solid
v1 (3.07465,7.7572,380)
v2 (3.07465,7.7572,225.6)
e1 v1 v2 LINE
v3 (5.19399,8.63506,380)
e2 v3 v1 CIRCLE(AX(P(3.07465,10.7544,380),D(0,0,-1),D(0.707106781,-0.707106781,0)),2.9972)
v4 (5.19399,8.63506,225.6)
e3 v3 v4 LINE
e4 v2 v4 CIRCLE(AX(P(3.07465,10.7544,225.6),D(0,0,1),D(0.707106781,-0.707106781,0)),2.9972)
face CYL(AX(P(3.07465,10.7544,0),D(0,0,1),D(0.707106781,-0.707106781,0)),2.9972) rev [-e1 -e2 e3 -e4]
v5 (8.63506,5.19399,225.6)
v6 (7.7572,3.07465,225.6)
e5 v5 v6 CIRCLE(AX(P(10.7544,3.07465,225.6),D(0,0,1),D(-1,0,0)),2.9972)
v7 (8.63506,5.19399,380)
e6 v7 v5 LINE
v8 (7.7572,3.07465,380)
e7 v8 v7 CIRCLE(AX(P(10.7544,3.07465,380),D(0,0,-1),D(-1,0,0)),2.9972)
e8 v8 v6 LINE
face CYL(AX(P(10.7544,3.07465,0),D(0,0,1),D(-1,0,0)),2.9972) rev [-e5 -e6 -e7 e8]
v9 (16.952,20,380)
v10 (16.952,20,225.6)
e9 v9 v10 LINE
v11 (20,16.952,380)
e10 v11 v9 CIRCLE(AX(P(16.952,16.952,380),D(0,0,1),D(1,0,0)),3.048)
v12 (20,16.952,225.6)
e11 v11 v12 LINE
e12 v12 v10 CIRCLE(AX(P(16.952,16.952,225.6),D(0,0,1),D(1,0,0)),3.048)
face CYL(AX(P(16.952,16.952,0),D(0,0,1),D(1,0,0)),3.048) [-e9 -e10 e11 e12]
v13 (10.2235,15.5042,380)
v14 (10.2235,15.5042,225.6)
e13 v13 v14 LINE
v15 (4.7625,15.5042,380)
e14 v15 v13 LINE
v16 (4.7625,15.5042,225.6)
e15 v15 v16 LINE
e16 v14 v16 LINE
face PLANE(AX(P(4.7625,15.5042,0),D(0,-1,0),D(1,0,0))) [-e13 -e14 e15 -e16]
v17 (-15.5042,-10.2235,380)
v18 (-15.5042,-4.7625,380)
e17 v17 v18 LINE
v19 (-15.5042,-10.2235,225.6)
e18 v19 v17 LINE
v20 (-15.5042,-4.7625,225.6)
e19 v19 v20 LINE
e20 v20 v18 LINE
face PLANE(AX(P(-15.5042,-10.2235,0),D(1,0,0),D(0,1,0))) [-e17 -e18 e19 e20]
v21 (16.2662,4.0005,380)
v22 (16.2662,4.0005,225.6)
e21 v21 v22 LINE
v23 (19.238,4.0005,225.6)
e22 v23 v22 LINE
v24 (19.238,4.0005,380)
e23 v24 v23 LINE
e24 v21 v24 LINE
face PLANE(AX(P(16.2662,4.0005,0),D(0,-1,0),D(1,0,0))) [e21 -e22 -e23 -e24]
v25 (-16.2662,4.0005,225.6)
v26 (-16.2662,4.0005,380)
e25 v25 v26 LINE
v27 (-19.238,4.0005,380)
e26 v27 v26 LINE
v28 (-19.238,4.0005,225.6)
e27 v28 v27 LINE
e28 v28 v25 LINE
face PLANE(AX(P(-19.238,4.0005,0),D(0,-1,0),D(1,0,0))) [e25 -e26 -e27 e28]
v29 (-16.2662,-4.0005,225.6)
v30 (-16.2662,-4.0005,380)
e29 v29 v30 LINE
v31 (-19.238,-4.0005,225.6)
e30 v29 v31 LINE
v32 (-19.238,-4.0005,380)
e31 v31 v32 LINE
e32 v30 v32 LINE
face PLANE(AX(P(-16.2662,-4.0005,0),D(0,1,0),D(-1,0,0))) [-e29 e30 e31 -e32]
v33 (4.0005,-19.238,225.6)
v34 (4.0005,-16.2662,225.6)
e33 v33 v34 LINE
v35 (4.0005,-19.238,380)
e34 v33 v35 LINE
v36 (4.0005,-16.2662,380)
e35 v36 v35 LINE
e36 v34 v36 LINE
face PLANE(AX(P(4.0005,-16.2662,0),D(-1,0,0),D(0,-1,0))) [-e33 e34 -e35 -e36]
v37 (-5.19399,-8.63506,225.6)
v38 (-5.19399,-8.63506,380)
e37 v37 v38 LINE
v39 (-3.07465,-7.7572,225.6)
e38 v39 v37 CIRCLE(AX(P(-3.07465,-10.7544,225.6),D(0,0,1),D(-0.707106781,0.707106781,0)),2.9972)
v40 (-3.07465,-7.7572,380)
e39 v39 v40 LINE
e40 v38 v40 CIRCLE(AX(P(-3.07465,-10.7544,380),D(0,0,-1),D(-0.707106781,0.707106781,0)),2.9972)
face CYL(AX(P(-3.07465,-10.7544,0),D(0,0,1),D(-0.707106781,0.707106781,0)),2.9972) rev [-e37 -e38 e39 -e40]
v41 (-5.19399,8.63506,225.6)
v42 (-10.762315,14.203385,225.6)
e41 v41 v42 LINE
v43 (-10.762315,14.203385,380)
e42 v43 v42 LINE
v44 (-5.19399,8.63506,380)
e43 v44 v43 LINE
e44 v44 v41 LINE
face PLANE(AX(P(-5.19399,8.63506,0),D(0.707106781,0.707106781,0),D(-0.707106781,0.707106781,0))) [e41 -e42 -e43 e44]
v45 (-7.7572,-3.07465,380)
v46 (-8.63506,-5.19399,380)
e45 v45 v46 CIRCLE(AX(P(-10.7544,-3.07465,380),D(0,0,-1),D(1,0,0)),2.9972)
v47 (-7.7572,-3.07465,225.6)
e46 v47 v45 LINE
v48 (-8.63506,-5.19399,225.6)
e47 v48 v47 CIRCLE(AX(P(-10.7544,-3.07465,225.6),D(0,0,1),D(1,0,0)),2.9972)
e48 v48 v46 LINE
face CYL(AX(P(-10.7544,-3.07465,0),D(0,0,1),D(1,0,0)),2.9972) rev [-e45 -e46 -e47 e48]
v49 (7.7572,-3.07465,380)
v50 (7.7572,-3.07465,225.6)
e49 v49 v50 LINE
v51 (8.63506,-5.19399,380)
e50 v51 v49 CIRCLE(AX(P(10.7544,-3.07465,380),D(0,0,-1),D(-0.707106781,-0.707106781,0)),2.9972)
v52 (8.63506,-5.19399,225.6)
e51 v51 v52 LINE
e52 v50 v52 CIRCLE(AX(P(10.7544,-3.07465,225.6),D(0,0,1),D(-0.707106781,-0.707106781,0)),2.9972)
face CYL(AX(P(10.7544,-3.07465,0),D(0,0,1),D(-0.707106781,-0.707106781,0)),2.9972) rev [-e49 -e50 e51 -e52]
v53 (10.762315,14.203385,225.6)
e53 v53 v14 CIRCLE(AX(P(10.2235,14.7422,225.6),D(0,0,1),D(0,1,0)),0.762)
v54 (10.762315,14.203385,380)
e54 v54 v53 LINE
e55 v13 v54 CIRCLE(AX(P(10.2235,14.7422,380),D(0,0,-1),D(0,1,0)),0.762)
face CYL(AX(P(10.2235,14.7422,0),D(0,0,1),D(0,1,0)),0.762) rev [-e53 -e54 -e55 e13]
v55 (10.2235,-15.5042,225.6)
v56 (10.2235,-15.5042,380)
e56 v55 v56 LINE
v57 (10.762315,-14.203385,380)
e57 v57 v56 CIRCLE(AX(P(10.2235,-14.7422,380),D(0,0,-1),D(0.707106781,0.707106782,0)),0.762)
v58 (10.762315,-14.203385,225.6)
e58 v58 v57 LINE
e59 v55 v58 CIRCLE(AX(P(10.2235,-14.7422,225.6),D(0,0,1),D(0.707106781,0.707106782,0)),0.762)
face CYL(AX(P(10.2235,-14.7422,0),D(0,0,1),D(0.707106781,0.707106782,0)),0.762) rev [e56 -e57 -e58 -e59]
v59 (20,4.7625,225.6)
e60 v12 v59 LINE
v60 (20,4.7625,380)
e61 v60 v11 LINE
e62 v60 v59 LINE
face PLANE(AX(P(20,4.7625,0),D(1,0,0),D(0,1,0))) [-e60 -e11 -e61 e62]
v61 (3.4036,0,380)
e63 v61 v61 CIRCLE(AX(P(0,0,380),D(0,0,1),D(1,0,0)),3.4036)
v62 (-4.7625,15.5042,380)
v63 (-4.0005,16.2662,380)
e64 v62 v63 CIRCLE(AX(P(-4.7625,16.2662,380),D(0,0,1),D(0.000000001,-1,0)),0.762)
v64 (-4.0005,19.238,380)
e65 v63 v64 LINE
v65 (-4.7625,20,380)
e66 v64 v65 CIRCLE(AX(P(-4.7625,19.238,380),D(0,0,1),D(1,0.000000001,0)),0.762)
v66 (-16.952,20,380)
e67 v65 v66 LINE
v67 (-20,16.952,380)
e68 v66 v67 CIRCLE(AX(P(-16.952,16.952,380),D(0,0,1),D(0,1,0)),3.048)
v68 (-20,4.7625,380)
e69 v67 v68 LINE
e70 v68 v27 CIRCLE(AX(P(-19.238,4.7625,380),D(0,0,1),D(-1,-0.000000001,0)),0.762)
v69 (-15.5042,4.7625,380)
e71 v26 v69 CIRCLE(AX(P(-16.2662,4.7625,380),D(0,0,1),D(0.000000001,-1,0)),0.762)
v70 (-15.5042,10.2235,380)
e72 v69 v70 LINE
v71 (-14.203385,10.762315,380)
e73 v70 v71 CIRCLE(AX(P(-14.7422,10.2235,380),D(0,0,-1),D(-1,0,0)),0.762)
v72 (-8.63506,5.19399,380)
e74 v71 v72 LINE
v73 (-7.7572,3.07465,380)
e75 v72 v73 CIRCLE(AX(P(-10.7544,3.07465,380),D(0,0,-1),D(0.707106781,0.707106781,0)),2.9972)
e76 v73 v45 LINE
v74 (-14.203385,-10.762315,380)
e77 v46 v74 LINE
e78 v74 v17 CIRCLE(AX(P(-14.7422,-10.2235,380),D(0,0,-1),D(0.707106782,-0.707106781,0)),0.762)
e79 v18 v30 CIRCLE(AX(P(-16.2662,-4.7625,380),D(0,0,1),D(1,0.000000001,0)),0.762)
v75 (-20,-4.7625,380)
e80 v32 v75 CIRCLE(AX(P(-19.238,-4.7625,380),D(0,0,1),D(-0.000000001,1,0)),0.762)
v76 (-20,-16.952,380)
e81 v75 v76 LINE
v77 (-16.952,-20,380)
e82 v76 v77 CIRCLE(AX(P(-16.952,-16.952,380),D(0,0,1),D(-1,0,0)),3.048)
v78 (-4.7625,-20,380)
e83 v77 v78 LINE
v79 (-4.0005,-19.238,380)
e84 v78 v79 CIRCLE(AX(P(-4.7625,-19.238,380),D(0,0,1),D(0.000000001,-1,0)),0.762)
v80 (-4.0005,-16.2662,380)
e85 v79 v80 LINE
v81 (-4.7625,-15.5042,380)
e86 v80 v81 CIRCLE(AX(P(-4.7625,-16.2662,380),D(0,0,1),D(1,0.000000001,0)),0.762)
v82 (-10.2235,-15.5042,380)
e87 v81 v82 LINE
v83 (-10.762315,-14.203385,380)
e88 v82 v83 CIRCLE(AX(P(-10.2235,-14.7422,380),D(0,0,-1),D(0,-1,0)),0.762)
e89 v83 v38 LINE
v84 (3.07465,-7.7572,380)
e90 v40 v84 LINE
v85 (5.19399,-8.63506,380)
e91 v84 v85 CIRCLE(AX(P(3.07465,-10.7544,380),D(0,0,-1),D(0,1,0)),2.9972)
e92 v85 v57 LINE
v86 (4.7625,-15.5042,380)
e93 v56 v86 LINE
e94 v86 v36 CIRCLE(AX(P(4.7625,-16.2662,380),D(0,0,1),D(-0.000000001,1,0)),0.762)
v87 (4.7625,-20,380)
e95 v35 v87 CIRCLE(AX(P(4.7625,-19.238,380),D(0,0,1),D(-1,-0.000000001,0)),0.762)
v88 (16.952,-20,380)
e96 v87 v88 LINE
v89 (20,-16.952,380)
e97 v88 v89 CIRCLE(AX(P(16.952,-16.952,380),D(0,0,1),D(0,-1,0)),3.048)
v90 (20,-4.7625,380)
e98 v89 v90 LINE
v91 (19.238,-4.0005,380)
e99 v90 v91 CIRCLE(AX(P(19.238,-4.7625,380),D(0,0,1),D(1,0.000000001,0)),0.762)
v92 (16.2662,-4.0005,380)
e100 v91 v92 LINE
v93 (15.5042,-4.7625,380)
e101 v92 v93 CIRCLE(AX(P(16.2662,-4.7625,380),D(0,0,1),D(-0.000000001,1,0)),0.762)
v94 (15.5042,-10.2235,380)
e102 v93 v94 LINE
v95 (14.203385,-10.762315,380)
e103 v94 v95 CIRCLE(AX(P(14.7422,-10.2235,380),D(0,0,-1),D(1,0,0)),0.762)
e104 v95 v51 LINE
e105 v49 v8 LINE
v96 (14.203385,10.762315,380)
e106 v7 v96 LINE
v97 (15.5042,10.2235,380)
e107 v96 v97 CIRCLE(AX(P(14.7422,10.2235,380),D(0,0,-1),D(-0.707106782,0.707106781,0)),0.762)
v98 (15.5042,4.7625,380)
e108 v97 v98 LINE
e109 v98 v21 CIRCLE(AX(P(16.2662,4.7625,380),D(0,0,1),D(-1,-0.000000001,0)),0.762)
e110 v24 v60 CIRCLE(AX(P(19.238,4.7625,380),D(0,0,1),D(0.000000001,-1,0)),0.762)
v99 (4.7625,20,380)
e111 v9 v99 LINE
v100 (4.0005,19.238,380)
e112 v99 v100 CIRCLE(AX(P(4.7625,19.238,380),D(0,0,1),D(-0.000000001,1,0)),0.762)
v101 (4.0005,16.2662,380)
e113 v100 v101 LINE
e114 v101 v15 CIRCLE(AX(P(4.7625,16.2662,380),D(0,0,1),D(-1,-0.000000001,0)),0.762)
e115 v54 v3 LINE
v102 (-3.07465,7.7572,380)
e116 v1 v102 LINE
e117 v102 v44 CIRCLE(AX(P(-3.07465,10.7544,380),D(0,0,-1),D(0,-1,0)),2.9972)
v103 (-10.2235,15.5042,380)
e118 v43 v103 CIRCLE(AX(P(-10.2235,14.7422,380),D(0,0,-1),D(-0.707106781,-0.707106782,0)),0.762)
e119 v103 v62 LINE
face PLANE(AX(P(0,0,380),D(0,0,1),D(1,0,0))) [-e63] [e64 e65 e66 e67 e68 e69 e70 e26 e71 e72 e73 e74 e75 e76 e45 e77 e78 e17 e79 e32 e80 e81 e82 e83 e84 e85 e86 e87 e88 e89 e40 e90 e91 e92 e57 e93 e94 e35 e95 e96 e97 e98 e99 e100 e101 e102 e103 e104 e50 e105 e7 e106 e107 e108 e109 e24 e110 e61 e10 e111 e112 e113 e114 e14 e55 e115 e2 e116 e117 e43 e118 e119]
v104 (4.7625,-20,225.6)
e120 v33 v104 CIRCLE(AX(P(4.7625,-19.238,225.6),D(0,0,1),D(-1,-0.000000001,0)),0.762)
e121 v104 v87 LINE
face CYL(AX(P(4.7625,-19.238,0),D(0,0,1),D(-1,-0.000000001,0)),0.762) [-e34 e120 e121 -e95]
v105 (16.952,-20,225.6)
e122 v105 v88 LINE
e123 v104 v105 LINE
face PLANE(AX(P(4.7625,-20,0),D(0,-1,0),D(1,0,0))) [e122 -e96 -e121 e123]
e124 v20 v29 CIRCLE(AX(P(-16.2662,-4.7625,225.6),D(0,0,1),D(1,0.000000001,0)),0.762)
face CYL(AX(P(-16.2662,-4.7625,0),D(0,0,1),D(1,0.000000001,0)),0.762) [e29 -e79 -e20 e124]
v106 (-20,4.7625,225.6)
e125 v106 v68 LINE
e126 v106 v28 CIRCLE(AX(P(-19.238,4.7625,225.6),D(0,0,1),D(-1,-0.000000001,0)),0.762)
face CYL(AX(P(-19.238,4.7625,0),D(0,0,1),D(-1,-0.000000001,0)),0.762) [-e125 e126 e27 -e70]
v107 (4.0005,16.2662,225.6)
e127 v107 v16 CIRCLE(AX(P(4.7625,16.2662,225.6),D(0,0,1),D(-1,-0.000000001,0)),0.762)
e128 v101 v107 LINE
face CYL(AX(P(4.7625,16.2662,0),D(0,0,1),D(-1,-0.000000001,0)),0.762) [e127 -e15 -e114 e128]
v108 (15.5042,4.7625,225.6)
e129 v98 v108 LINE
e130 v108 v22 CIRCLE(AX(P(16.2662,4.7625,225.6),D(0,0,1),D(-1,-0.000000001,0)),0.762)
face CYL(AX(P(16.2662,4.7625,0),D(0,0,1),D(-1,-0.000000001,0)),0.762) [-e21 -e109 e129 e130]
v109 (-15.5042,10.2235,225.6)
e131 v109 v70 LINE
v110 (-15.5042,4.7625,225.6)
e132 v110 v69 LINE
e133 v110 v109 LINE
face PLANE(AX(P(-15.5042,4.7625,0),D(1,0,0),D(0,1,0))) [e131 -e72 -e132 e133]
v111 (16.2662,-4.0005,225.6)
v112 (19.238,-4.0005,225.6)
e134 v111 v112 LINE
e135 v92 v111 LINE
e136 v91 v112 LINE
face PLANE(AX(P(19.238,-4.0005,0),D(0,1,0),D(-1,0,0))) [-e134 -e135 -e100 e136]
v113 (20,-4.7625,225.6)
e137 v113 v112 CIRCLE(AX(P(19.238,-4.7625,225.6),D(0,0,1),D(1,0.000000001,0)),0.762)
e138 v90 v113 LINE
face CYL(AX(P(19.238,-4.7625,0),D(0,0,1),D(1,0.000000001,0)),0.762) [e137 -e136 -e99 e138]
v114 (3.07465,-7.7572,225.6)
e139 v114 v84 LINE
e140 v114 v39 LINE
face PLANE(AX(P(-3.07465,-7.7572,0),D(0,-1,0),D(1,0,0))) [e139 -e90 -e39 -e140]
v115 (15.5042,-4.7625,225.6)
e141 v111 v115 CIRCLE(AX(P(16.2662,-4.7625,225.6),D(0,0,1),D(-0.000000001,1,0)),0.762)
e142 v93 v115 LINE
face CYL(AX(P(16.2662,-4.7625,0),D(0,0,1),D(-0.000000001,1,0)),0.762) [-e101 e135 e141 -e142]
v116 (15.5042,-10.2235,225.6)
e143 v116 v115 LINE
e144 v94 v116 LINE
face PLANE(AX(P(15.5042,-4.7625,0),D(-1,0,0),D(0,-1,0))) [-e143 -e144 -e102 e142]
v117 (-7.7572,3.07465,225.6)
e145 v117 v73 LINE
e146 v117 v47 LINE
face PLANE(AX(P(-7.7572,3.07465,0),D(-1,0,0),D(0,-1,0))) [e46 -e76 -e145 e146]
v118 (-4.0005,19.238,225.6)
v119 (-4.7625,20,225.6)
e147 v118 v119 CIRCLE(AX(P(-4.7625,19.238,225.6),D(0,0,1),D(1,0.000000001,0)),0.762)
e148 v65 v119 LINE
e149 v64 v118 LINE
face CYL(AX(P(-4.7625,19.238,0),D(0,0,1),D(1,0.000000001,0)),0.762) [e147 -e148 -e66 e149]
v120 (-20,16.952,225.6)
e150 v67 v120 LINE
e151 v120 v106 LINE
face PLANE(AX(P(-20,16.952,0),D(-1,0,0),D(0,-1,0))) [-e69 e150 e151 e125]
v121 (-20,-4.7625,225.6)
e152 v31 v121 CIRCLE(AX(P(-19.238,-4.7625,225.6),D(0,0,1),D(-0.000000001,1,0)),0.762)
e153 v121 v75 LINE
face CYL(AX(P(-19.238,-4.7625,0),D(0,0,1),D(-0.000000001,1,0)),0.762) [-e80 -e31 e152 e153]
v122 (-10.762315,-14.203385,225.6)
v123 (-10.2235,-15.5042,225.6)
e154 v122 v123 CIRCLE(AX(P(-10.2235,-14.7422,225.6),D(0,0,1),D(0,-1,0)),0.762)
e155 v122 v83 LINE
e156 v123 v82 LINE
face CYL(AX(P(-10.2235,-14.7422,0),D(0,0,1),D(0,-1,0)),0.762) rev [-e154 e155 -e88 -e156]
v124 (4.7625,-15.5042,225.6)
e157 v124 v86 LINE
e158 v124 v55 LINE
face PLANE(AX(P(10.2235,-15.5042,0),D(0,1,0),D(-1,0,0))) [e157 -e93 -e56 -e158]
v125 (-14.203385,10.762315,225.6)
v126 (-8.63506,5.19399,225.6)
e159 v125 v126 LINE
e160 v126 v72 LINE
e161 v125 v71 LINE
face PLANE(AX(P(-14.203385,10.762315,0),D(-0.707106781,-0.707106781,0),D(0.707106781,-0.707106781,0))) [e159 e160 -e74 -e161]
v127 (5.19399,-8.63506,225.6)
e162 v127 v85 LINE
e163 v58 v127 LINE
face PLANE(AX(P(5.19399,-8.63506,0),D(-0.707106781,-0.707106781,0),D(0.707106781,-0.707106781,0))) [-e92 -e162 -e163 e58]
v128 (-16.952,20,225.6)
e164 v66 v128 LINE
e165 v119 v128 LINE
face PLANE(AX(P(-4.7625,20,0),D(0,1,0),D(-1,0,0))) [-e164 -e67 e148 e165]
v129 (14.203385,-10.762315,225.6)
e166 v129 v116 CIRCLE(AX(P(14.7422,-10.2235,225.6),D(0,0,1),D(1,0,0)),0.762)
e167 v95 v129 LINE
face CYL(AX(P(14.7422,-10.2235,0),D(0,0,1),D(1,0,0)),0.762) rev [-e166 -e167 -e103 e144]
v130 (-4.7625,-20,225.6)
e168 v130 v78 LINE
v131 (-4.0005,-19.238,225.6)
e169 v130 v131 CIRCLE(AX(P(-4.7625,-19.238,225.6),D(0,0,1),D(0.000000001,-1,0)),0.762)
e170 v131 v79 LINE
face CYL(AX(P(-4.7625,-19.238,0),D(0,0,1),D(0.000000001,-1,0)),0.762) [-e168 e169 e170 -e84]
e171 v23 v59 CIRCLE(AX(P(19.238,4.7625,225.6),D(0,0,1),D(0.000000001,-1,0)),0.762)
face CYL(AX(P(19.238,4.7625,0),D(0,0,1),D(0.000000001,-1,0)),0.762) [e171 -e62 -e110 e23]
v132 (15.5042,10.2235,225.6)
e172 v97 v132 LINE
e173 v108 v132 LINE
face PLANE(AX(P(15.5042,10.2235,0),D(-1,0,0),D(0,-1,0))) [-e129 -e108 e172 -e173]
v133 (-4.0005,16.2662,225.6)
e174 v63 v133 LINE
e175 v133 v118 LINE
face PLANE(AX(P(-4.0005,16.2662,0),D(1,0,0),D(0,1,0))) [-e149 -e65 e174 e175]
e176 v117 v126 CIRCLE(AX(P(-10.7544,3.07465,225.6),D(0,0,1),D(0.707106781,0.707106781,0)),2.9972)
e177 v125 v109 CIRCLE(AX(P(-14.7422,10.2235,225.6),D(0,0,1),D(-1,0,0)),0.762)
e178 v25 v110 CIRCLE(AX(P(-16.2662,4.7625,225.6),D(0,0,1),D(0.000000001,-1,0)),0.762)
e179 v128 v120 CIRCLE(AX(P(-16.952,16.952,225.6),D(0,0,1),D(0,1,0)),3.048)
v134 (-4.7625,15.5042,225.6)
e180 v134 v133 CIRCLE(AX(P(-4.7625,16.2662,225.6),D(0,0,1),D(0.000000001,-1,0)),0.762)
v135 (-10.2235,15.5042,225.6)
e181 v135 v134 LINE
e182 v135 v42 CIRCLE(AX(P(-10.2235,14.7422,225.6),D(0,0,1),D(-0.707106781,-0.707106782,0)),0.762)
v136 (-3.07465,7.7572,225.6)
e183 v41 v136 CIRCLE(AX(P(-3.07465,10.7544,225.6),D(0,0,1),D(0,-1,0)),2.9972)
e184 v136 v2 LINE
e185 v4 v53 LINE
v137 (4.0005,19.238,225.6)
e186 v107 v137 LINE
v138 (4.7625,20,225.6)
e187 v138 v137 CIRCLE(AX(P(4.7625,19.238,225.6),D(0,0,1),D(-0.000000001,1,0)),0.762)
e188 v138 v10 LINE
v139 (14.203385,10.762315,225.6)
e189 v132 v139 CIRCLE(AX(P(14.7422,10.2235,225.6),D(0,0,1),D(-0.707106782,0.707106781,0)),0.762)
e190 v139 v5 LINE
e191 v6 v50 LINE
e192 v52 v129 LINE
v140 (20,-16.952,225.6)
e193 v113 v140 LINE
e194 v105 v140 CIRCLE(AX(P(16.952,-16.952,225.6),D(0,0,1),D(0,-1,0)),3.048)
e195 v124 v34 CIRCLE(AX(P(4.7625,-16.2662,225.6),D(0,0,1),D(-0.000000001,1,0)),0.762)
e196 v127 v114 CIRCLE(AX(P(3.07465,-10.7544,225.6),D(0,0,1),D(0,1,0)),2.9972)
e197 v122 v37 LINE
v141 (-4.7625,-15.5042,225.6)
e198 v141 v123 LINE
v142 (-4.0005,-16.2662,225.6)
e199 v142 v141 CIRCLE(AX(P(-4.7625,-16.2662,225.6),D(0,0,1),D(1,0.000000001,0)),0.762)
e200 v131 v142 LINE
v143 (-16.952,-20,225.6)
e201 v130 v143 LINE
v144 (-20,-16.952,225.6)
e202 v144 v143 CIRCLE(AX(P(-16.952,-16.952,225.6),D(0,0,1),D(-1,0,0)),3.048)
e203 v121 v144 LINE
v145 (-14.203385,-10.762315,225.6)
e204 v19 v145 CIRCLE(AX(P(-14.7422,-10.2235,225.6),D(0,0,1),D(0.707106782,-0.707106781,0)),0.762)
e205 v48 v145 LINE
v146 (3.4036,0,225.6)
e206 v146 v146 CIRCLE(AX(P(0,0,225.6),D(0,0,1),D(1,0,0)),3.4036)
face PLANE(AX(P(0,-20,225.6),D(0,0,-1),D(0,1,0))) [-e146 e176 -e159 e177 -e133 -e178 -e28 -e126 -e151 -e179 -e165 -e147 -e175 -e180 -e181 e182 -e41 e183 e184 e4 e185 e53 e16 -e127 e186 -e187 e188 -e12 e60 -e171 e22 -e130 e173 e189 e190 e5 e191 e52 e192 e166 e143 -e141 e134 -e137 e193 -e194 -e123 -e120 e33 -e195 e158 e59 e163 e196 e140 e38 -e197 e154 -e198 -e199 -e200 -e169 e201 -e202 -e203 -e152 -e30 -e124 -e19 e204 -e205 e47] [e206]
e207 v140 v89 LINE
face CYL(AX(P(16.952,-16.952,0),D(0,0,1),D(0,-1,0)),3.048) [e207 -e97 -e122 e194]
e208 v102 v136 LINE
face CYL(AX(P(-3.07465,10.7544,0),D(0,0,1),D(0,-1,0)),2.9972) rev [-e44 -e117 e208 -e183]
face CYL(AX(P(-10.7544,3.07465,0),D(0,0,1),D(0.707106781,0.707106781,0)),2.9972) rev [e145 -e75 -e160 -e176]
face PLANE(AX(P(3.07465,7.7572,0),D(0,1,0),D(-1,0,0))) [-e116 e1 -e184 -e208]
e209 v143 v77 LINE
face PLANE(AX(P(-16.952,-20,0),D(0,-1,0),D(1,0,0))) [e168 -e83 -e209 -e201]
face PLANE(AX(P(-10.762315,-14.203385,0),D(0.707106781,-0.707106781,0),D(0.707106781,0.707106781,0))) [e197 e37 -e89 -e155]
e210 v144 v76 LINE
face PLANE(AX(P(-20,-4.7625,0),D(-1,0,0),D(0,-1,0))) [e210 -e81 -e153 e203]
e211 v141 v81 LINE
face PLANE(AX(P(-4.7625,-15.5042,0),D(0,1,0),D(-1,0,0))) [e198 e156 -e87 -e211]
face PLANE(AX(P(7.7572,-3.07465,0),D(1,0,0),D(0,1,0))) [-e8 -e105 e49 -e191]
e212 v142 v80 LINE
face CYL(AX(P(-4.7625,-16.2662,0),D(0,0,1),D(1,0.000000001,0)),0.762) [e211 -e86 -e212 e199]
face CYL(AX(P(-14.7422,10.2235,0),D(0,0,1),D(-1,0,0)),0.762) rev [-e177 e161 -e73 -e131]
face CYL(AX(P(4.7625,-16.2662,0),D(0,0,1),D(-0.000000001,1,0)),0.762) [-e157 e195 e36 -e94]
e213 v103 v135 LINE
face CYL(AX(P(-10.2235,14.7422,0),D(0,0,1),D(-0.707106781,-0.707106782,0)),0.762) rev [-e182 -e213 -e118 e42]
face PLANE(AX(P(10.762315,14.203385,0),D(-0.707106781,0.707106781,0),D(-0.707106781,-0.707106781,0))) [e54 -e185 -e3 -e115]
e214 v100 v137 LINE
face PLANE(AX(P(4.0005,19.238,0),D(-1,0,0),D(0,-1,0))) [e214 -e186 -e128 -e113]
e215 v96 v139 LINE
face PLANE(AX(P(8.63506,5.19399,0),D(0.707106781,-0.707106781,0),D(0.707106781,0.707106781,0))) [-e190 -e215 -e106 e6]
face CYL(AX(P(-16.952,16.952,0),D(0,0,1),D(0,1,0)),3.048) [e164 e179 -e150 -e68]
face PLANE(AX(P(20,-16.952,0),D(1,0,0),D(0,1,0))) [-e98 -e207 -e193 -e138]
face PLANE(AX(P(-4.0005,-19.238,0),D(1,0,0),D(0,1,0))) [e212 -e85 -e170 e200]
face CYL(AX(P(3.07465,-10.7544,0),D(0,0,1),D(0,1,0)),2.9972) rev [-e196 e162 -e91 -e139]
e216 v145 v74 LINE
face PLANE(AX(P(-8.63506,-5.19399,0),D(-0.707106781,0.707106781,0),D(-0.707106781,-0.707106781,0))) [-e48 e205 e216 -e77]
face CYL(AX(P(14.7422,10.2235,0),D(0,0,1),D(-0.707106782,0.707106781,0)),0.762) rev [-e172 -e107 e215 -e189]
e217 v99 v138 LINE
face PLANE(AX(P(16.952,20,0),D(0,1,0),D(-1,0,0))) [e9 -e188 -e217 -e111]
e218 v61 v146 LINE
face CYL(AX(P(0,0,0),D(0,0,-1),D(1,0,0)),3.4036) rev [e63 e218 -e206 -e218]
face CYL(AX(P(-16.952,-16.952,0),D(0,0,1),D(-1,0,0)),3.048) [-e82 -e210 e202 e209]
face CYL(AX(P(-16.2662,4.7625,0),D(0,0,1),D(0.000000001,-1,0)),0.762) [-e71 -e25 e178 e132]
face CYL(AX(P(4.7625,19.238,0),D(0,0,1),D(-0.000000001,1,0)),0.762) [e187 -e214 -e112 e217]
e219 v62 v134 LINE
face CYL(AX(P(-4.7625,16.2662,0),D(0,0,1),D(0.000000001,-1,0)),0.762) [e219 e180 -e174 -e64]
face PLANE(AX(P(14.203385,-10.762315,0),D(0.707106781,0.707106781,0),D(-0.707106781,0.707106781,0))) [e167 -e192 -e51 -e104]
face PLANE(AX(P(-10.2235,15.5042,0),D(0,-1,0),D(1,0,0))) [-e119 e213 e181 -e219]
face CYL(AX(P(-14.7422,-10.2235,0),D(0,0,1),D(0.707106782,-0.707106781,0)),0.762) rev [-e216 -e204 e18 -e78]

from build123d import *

# Parameters (mm, degrees)
SKETCH1_R               = 3.4036
BOSS_EXTRUDE1_DEPTH     = 380
SKETCH2_W               = 605.6
SKETCH2_H               = 40
CUT_EXTRUDE1_DEPTH      = 65
CUT_EXTRUDE1_DEPTH_BACK = 71


with BuildPart() as part:
    # Sketch1 → Boss-Extrude1 (new body, symmetric)
    with BuildSketch(Plane.XY):
        with BuildLine():
            Line((-20, 16.952), (-20, 4.7625))
            ThreePointArc((-20, 4.7625), (-19.776815367, 4.223684633), (-19.238, 4.0005))
            Line((-19.238, 4.0005), (-16.2662, 4.0005))
            ThreePointArc((-16.2662, 4.0005), (-15.727384633, 4.223684633), (-15.5042, 4.7625))
            Line((-15.5042, 4.7625), (-15.5042, 10.2235))
            ThreePointArc((-15.5042, 10.2235), (-15.033804775, 10.927496204), (-14.203384633, 10.762315367))
            Line((-14.203384633, 10.762315367), (-8.635059555, 5.19399029))
            ThreePointArc((-8.635059555, 5.19399029), (-7.985348265, 4.221628629), (-7.7572, 3.074649845))
            Line((-7.7572, 3.074649845), (-7.7572, -3.074649845))
            ThreePointArc((-7.7572, -3.074649845), (-7.985348265, -4.221628629), (-8.635059555, -5.19399029))
            Line((-8.635059555, -5.19399029), (-14.203384633, -10.762315367))
            ThreePointArc((-14.203384633, -10.762315367), (-15.033804775, -10.927496204), (-15.5042, -10.2235))
            Line((-15.5042, -10.2235), (-15.5042, -4.7625))
            ThreePointArc((-15.5042, -4.7625), (-15.727384633, -4.223684633), (-16.2662, -4.0005))
            Line((-16.2662, -4.0005), (-19.238, -4.0005))
            ThreePointArc((-19.238, -4.0005), (-19.776815367, -4.223684633), (-20, -4.7625))
            Line((-20, -4.7625), (-20, -16.952))
            ThreePointArc((-20, -16.952), (-19.107261469, -19.107261469), (-16.952, -20))
            Line((-16.952, -20), (-4.7625, -20))
            ThreePointArc((-4.7625, -20), (-4.223684633, -19.776815367), (-4.0005, -19.238))
            Line((-4.0005, -19.238), (-4.0005, -16.2662))
            ThreePointArc((-4.0005, -16.2662), (-4.223684633, -15.727384633), (-4.7625, -15.5042))
            Line((-4.7625, -15.5042), (-10.2235, -15.5042))
            ThreePointArc((-10.2235, -15.5042), (-10.927496204, -15.033804775), (-10.762315367, -14.203384633))
            Line((-10.762315367, -14.203384633), (-5.19399029, -8.635059555))
            ThreePointArc((-5.19399029, -8.635059555), (-4.221628629, -7.985348265), (-3.074649845, -7.7572))
            Line((-3.074649845, -7.7572), (3.074649845, -7.7572))
            ThreePointArc((3.074649845, -7.7572), (4.221628629, -7.985348265), (5.19399029, -8.635059555))
            Line((5.19399029, -8.635059555), (10.762315367, -14.203384633))
            ThreePointArc((10.762315367, -14.203384633), (10.927496204, -15.033804775), (10.2235, -15.5042))
            Line((10.2235, -15.5042), (4.7625, -15.5042))
            ThreePointArc((4.7625, -15.5042), (4.223684633, -15.727384633), (4.0005, -16.2662))
            Line((4.0005, -16.2662), (4.0005, -19.238))
            ThreePointArc((4.0005, -19.238), (4.223684633, -19.776815367), (4.7625, -20))
            Line((4.7625, -20), (16.952, -20))
            ThreePointArc((16.952, -20), (19.107261469, -19.107261469), (20, -16.952))
            Line((20, -16.952), (20, -4.7625))
            ThreePointArc((20, -4.7625), (19.776815367, -4.223684633), (19.238, -4.0005))
            Line((19.238, -4.0005), (16.2662, -4.0005))
            ThreePointArc((16.2662, -4.0005), (15.727384633, -4.223684633), (15.5042, -4.7625))
            Line((15.5042, -4.7625), (15.5042, -10.2235))
            ThreePointArc((15.5042, -10.2235), (15.033804775, -10.927496204), (14.203384633, -10.762315367))
            Line((14.203384633, -10.762315367), (8.635059555, -5.19399029))
            ThreePointArc((8.635059555, -5.19399029), (7.985348265, -4.221628629), (7.7572, -3.074649845))
            Line((7.7572, -3.074649845), (7.7572, 3.074649845))
            ThreePointArc((7.7572, 3.074649845), (7.985348265, 4.221628629), (8.635059555, 5.19399029))
            Line((8.635059555, 5.19399029), (14.203384633, 10.762315367))
            ThreePointArc((14.203384633, 10.762315367), (15.033804775, 10.927496204), (15.5042, 10.2235))
            Line((15.5042, 10.2235), (15.5042, 4.7625))
            ThreePointArc((15.5042, 4.7625), (15.727384633, 4.223684633), (16.2662, 4.0005))
            Line((16.2662, 4.0005), (19.238, 4.0005))
            ThreePointArc((19.238, 4.0005), (19.776815367, 4.223684633), (20, 4.7625))
            Line((20, 4.7625), (20, 16.952))
            ThreePointArc((20, 16.952), (19.107261469, 19.107261469), (16.952, 20))
            Line((16.952, 20), (4.7625, 20))
            ThreePointArc((4.7625, 20), (4.223684633, 19.776815367), (4.0005, 19.238))
            Line((4.0005, 19.238), (4.0005, 16.2662))
            ThreePointArc((4.0005, 16.2662), (4.223684633, 15.727384633), (4.7625, 15.5042))
            Line((4.7625, 15.5042), (10.2235, 15.5042))
            ThreePointArc((10.2235, 15.5042), (10.927496204, 15.033804775), (10.762315367, 14.203384633))
            Line((10.762315367, 14.203384633), (5.19399029, 8.635059555))
            ThreePointArc((5.19399029, 8.635059555), (4.221628629, 7.985348265), (3.074649845, 7.7572))
            Line((3.074649845, 7.7572), (-3.074649845, 7.7572))
            ThreePointArc((-3.074649845, 7.7572), (-4.221628629, 7.985348265), (-5.19399029, 8.635059555))
            Line((-5.19399029, 8.635059555), (-10.762315367, 14.203384633))
            ThreePointArc((-10.762315367, 14.203384633), (-10.927496204, 15.033804775), (-10.2235, 15.5042))
            Line((-10.2235, 15.5042), (-4.7625, 15.5042))
            ThreePointArc((-4.7625, 15.5042), (-4.223684633, 15.727384633), (-4.0005, 16.2662))
            Line((-4.0005, 16.2662), (-4.0005, 19.238))
            ThreePointArc((-4.0005, 19.238), (-4.223684633, 19.776815367), (-4.7625, 20))
            Line((-4.7625, 20), (-16.952, 20))
            ThreePointArc((-16.952, 20), (-19.107261469, 19.107261469), (-20, 16.952))
        make_face()
        Circle(SKETCH1_R, mode=Mode.SUBTRACT)
    extrude(amount=BOSS_EXTRUDE1_DEPTH, both=True)

    # Sketch2 → Cut-Extrude1 (cut, two sides)
    with BuildSketch(Plane(origin=(0, 0, 0), x_dir=(0, 0, -1), z_dir=(1, 0, 0))) as cut_extrude1_sk:
        with Locations((77.2, 0)):
            Rectangle(SKETCH2_W, SKETCH2_H)
    extrude(amount=CUT_EXTRUDE1_DEPTH, mode=Mode.SUBTRACT)
    extrude(cut_extrude1_sk.sketch, amount=-CUT_EXTRUDE1_DEPTH_BACK, mode=Mode.SUBTRACT)


solid = part.part
